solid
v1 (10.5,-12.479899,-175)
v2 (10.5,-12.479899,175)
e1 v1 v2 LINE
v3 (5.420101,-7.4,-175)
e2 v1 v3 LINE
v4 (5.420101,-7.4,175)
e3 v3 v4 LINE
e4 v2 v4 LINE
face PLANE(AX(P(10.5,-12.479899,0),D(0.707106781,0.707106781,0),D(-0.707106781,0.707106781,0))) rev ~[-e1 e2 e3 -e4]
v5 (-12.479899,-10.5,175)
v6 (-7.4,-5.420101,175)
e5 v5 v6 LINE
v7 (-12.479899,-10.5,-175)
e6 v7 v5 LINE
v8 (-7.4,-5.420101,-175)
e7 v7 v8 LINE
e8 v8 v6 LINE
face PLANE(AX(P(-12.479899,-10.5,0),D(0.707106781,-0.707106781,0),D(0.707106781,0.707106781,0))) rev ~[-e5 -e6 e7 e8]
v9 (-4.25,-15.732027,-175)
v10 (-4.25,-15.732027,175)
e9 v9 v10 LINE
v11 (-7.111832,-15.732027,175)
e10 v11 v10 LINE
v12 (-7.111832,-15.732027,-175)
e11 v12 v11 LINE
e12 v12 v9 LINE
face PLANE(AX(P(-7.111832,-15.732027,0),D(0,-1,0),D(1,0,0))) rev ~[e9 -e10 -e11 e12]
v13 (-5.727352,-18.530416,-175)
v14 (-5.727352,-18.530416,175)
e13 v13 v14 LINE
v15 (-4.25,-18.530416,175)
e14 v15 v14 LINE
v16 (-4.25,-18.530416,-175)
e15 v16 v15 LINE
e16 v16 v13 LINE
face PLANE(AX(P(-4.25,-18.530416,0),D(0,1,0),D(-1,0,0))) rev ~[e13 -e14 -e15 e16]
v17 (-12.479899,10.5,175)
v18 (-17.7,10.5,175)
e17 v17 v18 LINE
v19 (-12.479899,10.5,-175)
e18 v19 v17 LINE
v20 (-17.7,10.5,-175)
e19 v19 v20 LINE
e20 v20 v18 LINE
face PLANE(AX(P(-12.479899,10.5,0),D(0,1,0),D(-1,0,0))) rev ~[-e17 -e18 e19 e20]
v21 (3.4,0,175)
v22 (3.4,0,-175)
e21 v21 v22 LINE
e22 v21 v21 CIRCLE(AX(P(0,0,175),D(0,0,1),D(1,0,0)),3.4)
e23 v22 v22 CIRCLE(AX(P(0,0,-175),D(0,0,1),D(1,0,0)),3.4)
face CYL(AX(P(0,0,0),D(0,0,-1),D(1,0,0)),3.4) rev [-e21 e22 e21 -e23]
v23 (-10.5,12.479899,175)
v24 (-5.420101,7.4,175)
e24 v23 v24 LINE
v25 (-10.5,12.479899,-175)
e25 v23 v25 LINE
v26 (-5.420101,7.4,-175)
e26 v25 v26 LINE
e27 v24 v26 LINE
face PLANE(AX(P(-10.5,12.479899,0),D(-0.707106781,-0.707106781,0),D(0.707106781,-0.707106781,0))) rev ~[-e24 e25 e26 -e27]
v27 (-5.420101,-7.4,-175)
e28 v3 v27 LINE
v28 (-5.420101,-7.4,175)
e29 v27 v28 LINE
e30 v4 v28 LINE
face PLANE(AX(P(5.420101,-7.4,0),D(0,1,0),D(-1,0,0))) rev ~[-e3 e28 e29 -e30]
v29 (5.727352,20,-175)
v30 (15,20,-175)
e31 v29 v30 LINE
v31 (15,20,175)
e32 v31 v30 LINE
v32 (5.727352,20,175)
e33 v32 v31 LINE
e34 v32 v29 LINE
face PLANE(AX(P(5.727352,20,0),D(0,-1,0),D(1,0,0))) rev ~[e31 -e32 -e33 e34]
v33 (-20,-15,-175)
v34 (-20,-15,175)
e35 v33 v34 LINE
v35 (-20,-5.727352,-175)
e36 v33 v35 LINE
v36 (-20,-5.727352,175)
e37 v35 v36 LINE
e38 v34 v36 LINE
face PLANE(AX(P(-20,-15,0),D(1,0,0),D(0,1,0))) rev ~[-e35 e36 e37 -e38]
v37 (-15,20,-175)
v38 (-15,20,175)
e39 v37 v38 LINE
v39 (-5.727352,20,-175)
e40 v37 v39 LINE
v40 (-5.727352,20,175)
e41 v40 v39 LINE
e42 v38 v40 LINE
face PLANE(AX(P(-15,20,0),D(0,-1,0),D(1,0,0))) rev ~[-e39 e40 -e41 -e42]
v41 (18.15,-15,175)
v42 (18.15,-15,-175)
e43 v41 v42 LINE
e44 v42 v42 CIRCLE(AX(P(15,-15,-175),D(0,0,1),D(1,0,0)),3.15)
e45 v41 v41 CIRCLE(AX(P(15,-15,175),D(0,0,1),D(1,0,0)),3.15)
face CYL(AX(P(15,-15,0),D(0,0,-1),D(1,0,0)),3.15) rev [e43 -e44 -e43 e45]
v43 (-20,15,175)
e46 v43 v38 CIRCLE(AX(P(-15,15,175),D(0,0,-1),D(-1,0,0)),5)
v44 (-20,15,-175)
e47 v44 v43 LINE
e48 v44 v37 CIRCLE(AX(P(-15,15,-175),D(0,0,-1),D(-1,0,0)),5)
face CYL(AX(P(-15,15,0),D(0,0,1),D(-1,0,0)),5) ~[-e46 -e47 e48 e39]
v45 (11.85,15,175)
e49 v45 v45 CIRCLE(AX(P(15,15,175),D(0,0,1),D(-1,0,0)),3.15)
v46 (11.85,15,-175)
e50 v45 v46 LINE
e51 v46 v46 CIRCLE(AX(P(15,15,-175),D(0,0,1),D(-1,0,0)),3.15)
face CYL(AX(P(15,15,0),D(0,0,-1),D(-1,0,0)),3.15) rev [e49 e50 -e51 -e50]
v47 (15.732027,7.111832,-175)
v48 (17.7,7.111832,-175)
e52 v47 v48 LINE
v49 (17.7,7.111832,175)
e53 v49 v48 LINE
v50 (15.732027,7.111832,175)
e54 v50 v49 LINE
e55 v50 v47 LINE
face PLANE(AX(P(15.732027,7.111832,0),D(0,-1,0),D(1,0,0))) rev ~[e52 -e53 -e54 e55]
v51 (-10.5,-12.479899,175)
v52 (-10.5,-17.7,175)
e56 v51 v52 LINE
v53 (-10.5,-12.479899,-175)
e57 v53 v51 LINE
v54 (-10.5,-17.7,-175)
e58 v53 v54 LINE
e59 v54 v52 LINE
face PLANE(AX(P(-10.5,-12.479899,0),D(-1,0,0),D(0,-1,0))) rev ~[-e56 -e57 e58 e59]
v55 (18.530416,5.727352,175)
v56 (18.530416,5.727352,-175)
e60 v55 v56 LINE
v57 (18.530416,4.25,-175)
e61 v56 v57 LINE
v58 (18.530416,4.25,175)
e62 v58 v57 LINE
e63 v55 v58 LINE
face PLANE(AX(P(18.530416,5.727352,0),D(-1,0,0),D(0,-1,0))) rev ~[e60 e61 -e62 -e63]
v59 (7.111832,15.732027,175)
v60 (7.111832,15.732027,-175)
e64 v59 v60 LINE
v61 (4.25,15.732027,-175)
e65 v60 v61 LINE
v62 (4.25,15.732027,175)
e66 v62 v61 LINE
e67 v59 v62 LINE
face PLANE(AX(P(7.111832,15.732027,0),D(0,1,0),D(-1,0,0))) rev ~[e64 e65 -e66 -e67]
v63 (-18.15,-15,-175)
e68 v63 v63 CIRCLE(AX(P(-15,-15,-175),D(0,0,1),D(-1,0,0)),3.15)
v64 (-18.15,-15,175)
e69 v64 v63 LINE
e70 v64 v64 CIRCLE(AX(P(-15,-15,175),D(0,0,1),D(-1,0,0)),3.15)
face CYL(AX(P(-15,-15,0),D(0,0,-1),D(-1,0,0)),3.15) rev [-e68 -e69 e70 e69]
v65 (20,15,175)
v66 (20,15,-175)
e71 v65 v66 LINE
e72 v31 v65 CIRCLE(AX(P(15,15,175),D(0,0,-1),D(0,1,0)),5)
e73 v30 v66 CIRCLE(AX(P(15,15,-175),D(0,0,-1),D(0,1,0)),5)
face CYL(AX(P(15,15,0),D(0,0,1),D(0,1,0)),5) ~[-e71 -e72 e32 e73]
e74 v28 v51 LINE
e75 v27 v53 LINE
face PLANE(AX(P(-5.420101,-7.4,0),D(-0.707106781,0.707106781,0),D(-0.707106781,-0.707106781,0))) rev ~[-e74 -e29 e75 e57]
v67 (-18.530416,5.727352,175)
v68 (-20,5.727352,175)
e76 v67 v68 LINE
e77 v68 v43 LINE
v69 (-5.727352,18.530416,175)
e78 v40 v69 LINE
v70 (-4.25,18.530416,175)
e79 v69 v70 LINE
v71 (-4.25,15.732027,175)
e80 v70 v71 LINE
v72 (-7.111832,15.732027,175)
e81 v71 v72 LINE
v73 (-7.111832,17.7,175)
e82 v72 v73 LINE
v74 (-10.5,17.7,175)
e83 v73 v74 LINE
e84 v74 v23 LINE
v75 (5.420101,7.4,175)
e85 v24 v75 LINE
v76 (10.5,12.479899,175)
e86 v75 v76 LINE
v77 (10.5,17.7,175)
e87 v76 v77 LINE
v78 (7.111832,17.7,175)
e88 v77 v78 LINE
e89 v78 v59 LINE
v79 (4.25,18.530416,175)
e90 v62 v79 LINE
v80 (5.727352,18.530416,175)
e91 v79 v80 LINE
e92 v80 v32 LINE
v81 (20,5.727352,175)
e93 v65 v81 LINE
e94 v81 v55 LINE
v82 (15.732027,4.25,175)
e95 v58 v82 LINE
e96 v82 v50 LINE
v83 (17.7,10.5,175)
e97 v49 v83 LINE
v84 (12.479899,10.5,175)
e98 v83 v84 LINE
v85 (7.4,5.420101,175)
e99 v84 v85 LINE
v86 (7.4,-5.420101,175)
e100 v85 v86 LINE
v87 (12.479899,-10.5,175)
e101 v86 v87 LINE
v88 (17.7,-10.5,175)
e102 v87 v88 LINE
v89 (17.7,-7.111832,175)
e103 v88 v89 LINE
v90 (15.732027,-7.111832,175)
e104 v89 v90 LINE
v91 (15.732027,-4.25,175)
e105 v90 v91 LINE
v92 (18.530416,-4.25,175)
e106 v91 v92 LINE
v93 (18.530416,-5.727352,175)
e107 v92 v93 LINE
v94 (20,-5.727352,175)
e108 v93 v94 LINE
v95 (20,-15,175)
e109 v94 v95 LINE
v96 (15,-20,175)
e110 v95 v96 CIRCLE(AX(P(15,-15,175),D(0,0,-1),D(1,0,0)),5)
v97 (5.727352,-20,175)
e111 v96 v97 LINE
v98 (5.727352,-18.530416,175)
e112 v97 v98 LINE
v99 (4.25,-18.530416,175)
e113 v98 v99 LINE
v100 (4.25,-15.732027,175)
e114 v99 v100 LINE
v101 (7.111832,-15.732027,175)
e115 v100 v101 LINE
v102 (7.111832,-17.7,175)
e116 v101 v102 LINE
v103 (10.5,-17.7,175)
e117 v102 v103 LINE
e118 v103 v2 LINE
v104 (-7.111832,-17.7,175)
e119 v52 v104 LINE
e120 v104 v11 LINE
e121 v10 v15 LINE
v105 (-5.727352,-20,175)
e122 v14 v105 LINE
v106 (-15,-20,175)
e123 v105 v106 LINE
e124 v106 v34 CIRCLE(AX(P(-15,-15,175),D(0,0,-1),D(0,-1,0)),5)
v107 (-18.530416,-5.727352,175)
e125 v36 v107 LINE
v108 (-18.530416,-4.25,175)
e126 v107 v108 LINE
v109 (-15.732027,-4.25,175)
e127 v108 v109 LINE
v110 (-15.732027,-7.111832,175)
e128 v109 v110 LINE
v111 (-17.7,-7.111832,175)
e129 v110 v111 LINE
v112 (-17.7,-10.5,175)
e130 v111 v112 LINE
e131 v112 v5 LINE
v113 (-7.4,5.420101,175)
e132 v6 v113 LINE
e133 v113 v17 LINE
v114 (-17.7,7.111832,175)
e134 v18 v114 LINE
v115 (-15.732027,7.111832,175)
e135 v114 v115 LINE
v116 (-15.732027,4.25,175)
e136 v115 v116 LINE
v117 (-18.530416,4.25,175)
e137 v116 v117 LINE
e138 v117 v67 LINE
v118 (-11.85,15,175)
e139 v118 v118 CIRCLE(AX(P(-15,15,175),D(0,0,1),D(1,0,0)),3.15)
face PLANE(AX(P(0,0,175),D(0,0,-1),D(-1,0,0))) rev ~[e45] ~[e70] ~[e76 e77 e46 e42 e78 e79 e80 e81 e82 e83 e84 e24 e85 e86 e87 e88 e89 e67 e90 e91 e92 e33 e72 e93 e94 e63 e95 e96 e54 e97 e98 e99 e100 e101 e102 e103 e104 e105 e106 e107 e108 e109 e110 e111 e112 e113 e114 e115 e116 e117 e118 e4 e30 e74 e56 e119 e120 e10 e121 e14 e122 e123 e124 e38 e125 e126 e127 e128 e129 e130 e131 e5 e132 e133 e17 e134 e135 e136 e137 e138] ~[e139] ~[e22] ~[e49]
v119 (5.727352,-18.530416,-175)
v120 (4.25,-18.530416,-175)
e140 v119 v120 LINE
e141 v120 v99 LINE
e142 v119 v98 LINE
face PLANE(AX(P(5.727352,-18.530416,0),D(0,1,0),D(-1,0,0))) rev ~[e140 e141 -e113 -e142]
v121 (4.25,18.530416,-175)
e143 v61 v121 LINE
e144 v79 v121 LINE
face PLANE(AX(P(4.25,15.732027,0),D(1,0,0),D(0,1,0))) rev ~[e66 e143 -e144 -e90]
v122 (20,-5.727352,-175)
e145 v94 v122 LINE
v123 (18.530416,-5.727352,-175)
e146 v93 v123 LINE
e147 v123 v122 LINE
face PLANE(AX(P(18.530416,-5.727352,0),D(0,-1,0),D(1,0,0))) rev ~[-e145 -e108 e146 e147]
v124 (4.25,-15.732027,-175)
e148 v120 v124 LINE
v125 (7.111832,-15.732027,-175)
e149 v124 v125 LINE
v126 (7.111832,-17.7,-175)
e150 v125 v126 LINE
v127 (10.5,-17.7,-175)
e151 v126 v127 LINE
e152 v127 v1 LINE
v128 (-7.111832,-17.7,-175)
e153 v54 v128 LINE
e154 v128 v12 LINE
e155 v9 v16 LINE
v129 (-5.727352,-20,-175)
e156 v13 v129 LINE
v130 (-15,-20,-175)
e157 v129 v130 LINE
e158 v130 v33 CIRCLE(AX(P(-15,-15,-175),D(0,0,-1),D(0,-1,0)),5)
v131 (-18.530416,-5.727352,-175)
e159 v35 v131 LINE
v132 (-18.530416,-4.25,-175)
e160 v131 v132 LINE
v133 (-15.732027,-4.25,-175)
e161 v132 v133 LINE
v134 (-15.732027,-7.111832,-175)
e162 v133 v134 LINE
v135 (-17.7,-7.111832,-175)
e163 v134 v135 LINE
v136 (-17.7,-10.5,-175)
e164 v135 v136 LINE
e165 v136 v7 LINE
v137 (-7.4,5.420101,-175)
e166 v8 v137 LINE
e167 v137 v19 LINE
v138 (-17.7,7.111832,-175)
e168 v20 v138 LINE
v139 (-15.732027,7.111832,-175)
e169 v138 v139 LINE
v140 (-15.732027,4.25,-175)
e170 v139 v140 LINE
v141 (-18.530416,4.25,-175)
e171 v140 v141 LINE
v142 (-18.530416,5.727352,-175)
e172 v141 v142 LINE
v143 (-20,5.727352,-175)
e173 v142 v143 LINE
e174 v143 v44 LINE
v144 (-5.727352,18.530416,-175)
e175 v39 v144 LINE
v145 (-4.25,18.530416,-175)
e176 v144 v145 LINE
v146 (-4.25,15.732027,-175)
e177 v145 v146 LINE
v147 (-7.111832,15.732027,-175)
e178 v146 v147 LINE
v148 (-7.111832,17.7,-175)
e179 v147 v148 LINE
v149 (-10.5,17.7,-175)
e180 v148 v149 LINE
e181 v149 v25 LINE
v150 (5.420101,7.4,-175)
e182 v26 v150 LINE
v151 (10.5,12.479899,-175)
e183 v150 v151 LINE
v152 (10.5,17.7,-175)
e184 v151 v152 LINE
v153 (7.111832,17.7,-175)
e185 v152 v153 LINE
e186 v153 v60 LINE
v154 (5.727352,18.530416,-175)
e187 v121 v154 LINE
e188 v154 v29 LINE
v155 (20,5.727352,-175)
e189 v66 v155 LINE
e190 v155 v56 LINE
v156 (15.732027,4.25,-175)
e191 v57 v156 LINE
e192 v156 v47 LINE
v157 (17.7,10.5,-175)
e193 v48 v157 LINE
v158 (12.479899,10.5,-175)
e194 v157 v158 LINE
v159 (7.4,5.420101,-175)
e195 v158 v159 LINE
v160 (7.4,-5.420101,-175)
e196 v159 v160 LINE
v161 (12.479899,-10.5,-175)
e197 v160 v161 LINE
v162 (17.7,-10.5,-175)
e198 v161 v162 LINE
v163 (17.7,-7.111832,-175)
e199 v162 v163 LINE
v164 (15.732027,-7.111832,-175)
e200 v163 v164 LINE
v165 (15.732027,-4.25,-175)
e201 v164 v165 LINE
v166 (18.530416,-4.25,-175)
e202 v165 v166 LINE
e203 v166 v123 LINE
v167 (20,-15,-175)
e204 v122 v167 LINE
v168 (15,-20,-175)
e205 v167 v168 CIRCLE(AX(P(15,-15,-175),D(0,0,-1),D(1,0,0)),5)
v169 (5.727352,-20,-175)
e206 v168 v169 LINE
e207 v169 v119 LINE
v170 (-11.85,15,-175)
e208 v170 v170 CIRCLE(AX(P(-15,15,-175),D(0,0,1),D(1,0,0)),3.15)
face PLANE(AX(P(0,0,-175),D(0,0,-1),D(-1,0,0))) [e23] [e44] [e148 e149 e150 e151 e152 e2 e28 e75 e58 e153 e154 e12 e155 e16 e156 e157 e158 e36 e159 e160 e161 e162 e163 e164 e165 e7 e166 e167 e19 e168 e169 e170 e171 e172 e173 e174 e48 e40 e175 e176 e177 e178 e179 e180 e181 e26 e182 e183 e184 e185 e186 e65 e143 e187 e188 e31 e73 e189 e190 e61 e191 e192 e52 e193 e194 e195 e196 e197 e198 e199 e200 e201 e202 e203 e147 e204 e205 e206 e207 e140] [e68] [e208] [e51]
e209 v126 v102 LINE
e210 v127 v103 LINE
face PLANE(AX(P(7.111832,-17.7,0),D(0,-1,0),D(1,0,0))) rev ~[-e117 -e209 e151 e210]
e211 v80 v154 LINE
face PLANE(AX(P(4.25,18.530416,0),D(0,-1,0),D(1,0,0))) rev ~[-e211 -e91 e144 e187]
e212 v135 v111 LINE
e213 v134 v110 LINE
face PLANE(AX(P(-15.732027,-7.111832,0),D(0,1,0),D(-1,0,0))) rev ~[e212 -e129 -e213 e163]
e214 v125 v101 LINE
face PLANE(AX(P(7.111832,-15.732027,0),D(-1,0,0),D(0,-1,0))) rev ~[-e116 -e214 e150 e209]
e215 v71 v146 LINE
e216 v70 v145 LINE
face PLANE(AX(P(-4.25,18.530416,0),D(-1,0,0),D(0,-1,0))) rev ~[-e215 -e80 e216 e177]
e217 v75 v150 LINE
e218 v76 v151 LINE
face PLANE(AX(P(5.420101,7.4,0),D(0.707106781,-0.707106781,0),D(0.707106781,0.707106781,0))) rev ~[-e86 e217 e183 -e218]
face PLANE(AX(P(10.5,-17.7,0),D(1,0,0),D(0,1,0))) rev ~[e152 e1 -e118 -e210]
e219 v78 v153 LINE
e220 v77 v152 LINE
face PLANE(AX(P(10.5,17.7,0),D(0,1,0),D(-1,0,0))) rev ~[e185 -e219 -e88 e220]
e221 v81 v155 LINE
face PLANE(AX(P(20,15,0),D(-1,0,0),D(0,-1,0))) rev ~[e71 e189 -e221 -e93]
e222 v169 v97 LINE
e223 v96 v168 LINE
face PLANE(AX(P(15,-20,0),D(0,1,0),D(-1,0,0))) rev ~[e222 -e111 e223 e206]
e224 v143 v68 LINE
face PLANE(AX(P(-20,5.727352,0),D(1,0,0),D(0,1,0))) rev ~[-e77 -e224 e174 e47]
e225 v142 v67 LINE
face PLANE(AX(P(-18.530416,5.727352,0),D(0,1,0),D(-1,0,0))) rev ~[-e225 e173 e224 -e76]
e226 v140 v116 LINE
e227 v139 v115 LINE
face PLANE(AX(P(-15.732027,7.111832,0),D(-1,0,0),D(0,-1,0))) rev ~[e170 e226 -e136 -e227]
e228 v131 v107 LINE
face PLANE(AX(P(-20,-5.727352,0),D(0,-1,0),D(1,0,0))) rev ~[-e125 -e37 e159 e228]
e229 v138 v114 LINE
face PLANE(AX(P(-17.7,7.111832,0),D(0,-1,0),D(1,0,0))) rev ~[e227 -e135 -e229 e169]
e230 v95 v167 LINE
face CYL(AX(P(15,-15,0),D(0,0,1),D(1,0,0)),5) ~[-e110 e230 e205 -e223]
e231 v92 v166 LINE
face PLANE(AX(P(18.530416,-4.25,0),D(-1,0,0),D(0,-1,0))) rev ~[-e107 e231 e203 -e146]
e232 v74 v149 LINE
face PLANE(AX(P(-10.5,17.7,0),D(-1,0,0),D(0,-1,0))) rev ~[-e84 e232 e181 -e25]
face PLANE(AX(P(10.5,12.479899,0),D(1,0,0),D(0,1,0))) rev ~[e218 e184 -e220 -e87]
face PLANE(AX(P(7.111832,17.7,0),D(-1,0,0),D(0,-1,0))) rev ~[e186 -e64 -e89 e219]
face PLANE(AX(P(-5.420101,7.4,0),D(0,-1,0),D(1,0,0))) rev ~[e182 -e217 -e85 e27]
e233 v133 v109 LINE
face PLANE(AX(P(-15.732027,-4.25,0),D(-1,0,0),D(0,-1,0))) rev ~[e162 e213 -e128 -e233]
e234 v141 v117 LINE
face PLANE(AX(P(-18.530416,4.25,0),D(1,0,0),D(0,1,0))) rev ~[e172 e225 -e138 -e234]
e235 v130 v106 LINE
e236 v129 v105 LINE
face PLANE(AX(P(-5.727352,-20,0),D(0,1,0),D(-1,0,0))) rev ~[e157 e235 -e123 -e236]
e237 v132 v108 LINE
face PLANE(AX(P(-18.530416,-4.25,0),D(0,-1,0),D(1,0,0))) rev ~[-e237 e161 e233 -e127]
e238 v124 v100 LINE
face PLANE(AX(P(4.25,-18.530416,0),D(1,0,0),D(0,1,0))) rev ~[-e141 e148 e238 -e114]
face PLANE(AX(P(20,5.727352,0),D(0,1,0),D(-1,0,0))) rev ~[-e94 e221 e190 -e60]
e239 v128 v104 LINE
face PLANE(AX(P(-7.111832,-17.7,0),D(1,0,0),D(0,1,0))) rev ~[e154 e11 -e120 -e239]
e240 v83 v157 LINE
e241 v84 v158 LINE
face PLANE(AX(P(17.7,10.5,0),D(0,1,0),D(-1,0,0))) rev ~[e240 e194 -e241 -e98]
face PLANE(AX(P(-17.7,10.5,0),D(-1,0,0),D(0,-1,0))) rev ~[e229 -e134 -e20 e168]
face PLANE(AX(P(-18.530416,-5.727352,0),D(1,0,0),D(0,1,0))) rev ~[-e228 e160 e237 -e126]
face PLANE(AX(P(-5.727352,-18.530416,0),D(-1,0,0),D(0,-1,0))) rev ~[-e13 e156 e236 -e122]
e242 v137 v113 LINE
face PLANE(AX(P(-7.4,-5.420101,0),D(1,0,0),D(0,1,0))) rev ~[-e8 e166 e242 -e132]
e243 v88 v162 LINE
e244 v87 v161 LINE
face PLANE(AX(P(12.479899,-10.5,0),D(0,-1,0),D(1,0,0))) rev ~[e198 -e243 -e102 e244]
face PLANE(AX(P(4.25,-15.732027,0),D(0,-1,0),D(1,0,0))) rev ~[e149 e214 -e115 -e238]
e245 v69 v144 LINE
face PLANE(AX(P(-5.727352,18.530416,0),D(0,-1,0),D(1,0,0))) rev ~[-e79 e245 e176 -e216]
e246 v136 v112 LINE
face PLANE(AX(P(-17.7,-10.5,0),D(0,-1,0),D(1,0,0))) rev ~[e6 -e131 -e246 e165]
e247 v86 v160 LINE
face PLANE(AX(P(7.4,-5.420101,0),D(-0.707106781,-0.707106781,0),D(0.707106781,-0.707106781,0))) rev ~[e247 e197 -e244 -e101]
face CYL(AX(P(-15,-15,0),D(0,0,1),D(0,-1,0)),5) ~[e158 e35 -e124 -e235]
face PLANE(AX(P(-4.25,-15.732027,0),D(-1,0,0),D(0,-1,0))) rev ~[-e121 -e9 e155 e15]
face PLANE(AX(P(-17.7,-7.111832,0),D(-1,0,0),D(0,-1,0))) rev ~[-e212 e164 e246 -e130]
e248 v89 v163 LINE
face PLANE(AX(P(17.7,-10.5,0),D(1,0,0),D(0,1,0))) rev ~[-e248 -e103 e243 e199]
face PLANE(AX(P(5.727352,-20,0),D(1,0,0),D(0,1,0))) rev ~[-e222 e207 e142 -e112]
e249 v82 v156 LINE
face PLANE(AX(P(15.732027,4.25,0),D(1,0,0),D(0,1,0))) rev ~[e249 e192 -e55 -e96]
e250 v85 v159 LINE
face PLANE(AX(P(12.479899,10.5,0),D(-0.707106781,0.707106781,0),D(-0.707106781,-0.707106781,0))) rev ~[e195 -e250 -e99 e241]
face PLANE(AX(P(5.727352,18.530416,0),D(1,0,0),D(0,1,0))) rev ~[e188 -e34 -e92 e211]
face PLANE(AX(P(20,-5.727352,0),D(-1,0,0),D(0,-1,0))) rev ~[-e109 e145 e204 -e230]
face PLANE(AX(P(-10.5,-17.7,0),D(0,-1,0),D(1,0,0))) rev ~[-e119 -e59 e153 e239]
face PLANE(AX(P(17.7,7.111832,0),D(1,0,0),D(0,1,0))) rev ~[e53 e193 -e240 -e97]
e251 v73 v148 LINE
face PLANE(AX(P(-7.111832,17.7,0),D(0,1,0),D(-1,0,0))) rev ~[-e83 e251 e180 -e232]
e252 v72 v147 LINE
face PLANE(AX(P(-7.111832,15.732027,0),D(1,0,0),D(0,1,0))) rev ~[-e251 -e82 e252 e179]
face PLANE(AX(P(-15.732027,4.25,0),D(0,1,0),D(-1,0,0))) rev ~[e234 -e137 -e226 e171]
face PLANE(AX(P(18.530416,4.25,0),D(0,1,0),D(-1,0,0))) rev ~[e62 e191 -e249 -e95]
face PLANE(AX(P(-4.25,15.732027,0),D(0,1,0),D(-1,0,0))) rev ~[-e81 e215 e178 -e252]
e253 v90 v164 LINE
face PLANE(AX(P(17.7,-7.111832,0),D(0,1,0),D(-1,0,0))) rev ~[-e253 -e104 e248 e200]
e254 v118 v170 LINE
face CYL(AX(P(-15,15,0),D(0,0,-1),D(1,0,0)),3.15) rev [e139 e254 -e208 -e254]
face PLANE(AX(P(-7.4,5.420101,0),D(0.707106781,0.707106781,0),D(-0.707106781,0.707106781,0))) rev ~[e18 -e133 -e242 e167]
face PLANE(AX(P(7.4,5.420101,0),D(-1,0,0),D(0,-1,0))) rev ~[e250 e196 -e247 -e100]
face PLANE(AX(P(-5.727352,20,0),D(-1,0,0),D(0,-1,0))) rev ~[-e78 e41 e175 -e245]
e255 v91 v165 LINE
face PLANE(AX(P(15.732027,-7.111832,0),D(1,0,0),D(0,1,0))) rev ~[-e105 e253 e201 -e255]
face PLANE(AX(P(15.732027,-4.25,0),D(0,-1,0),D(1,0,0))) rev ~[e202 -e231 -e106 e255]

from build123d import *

# Parameters (mm, degrees)
SKETCH_1_R      = 3.4
SKETCH_1_R_2    = 3.15
EXTRUDE_1_DEPTH = 175


with BuildPart() as part:
    # Эскиз1 → Бобышка-Вытянуть1 (new, symmetric)
    with BuildSketch(Plane.XY):
        with BuildLine():
            Line((-15, 20), (-5.727351849, 20))
            Line((-5.727351849, 20), (-5.727351849, 18.530416438))
            Line((-5.727351849, 18.530416438), (-4.25, 18.530416438))
            Line((-4.25, 18.530416438), (-4.25, 15.732027397))
            Line((-4.25, 15.732027397), (-7.111831817, 15.732027397))
            Line((-7.111831817, 15.732027397), (-7.111831817, 17.7))
            Line((-7.111831817, 17.7), (-10.5, 17.7))
            Line((-10.5, 17.7), (-10.5, 12.479898987))
            Line((-10.5, 12.479898987), (-5.420101013, 7.4))
            Line((-5.420101013, 7.4), (5.420101013, 7.4))
            Line((5.420101013, 7.4), (10.5, 12.479898987))
            Line((10.5, 12.479898987), (10.5, 17.7))
            Line((10.5, 17.7), (7.111831817, 17.7))
            Line((7.111831817, 17.7), (7.111831817, 15.732027397))
            Line((7.111831817, 15.732027397), (4.25, 15.732027397))
            Line((4.25, 15.732027397), (4.25, 18.530416438))
            Line((4.25, 18.530416438), (5.727351849, 18.530416438))
            Line((5.727351849, 18.530416438), (5.727351849, 20))
            Line((5.727351849, 20), (15, 20))
            ThreePointArc((15, 20), (18.535533906, 18.535533906), (20, 15))
            Line((20, 15), (20, 5.727351849))
            Line((20, 5.727351849), (18.530416438, 5.727351849))
            Line((18.530416438, 5.727351849), (18.530416438, 4.25))
            Line((18.530416438, 4.25), (15.732027397, 4.25))
            Line((15.732027397, 4.25), (15.732027397, 7.111831817))
            Line((15.732027397, 7.111831817), (17.7, 7.111831817))
            Line((17.7, 7.111831817), (17.7, 10.5))
            Line((17.7, 10.5), (12.479898987, 10.5))
            Line((12.479898987, 10.5), (7.4, 5.420101013))
            Line((7.4, 5.420101013), (7.4, -5.420101013))
            Line((7.4, -5.420101013), (12.479898987, -10.5))
            Line((12.479898987, -10.5), (17.7, -10.5))
            Line((17.7, -10.5), (17.7, -7.111831817))
            Line((17.7, -7.111831817), (15.732027397, -7.111831817))
            Line((15.732027397, -7.111831817), (15.732027397, -4.25))
            Line((15.732027397, -4.25), (18.530416438, -4.25))
            Line((18.530416438, -4.25), (18.530416438, -5.727351849))
            Line((18.530416438, -5.727351849), (20, -5.727351849))
            Line((20, -5.727351849), (20, -15))
            ThreePointArc((20, -15), (18.535533906, -18.535533906), (15, -20))
            Line((15, -20), (5.727351849, -20))
            Line((5.727351849, -20), (5.727351849, -18.530416438))
            Line((5.727351849, -18.530416438), (4.25, -18.530416438))
            Line((4.25, -18.530416438), (4.25, -15.732027397))
            Line((4.25, -15.732027397), (7.111831817, -15.732027397))
            Line((7.111831817, -15.732027397), (7.111831817, -17.7))
            Line((7.111831817, -17.7), (10.5, -17.7))
            Line((10.5, -17.7), (10.5, -12.479898987))
            Line((10.5, -12.479898987), (5.420101013, -7.4))
            Line((5.420101013, -7.4), (-5.420101013, -7.4))
            Line((-5.420101013, -7.4), (-10.5, -12.479898987))
            Line((-10.5, -12.479898987), (-10.5, -17.7))
            Line((-10.5, -17.7), (-7.111831817, -17.7))
            Line((-7.111831817, -17.7), (-7.111831817, -15.732027397))
            Line((-7.111831817, -15.732027397), (-4.25, -15.732027397))
            Line((-4.25, -15.732027397), (-4.25, -18.530416438))
            Line((-4.25, -18.530416438), (-5.727351849, -18.530416438))
            Line((-5.727351849, -18.530416438), (-5.727351849, -20))
            Line((-5.727351849, -20), (-15, -20))
            ThreePointArc((-15, -20), (-18.535533906, -18.535533906), (-20, -15))
            Line((-20, -15), (-20, -5.727351849))
            Line((-20, -5.727351849), (-18.530416438, -5.727351849))
            Line((-18.530416438, -5.727351849), (-18.530416438, -4.25))
            Line((-18.530416438, -4.25), (-15.732027397, -4.25))
            Line((-15.732027397, -4.25), (-15.732027397, -7.111831817))
            Line((-15.732027397, -7.111831817), (-17.7, -7.111831817))
            Line((-17.7, -7.111831817), (-17.7, -10.5))
            Line((-17.7, -10.5), (-12.479898987, -10.5))
            Line((-12.479898987, -10.5), (-7.4, -5.420101013))
            Line((-7.4, -5.420101013), (-7.4, 5.420101013))
            Line((-7.4, 5.420101013), (-12.479898987, 10.5))
            Line((-12.479898987, 10.5), (-17.7, 10.5))
            Line((-17.7, 10.5), (-17.7, 7.111831817))
            Line((-17.7, 7.111831817), (-15.732027397, 7.111831817))
            Line((-15.732027397, 7.111831817), (-15.732027397, 4.25))
            Line((-15.732027397, 4.25), (-18.530416438, 4.25))
            Line((-18.530416438, 4.25), (-18.530416438, 5.727351849))
            Line((-18.530416438, 5.727351849), (-20, 5.727351849))
            Line((-20, 5.727351849), (-20, 15))
            ThreePointArc((-20, 15), (-18.535533906, 18.535533906), (-15, 20))
        make_face()
        Circle(SKETCH_1_R, mode=Mode.SUBTRACT)
        with Locations((-15, 15)):
            Circle(SKETCH_1_R_2, mode=Mode.SUBTRACT)
        with Locations((15, 15)):
            Circle(SKETCH_1_R_2, mode=Mode.SUBTRACT)
        with Locations((15, -15)):
            Circle(SKETCH_1_R_2, mode=Mode.SUBTRACT)
        with Locations((-15, -15)):
            Circle(SKETCH_1_R_2, mode=Mode.SUBTRACT)
    extrude(amount=EXTRUDE_1_DEPTH, both=True)


solid = part.part
